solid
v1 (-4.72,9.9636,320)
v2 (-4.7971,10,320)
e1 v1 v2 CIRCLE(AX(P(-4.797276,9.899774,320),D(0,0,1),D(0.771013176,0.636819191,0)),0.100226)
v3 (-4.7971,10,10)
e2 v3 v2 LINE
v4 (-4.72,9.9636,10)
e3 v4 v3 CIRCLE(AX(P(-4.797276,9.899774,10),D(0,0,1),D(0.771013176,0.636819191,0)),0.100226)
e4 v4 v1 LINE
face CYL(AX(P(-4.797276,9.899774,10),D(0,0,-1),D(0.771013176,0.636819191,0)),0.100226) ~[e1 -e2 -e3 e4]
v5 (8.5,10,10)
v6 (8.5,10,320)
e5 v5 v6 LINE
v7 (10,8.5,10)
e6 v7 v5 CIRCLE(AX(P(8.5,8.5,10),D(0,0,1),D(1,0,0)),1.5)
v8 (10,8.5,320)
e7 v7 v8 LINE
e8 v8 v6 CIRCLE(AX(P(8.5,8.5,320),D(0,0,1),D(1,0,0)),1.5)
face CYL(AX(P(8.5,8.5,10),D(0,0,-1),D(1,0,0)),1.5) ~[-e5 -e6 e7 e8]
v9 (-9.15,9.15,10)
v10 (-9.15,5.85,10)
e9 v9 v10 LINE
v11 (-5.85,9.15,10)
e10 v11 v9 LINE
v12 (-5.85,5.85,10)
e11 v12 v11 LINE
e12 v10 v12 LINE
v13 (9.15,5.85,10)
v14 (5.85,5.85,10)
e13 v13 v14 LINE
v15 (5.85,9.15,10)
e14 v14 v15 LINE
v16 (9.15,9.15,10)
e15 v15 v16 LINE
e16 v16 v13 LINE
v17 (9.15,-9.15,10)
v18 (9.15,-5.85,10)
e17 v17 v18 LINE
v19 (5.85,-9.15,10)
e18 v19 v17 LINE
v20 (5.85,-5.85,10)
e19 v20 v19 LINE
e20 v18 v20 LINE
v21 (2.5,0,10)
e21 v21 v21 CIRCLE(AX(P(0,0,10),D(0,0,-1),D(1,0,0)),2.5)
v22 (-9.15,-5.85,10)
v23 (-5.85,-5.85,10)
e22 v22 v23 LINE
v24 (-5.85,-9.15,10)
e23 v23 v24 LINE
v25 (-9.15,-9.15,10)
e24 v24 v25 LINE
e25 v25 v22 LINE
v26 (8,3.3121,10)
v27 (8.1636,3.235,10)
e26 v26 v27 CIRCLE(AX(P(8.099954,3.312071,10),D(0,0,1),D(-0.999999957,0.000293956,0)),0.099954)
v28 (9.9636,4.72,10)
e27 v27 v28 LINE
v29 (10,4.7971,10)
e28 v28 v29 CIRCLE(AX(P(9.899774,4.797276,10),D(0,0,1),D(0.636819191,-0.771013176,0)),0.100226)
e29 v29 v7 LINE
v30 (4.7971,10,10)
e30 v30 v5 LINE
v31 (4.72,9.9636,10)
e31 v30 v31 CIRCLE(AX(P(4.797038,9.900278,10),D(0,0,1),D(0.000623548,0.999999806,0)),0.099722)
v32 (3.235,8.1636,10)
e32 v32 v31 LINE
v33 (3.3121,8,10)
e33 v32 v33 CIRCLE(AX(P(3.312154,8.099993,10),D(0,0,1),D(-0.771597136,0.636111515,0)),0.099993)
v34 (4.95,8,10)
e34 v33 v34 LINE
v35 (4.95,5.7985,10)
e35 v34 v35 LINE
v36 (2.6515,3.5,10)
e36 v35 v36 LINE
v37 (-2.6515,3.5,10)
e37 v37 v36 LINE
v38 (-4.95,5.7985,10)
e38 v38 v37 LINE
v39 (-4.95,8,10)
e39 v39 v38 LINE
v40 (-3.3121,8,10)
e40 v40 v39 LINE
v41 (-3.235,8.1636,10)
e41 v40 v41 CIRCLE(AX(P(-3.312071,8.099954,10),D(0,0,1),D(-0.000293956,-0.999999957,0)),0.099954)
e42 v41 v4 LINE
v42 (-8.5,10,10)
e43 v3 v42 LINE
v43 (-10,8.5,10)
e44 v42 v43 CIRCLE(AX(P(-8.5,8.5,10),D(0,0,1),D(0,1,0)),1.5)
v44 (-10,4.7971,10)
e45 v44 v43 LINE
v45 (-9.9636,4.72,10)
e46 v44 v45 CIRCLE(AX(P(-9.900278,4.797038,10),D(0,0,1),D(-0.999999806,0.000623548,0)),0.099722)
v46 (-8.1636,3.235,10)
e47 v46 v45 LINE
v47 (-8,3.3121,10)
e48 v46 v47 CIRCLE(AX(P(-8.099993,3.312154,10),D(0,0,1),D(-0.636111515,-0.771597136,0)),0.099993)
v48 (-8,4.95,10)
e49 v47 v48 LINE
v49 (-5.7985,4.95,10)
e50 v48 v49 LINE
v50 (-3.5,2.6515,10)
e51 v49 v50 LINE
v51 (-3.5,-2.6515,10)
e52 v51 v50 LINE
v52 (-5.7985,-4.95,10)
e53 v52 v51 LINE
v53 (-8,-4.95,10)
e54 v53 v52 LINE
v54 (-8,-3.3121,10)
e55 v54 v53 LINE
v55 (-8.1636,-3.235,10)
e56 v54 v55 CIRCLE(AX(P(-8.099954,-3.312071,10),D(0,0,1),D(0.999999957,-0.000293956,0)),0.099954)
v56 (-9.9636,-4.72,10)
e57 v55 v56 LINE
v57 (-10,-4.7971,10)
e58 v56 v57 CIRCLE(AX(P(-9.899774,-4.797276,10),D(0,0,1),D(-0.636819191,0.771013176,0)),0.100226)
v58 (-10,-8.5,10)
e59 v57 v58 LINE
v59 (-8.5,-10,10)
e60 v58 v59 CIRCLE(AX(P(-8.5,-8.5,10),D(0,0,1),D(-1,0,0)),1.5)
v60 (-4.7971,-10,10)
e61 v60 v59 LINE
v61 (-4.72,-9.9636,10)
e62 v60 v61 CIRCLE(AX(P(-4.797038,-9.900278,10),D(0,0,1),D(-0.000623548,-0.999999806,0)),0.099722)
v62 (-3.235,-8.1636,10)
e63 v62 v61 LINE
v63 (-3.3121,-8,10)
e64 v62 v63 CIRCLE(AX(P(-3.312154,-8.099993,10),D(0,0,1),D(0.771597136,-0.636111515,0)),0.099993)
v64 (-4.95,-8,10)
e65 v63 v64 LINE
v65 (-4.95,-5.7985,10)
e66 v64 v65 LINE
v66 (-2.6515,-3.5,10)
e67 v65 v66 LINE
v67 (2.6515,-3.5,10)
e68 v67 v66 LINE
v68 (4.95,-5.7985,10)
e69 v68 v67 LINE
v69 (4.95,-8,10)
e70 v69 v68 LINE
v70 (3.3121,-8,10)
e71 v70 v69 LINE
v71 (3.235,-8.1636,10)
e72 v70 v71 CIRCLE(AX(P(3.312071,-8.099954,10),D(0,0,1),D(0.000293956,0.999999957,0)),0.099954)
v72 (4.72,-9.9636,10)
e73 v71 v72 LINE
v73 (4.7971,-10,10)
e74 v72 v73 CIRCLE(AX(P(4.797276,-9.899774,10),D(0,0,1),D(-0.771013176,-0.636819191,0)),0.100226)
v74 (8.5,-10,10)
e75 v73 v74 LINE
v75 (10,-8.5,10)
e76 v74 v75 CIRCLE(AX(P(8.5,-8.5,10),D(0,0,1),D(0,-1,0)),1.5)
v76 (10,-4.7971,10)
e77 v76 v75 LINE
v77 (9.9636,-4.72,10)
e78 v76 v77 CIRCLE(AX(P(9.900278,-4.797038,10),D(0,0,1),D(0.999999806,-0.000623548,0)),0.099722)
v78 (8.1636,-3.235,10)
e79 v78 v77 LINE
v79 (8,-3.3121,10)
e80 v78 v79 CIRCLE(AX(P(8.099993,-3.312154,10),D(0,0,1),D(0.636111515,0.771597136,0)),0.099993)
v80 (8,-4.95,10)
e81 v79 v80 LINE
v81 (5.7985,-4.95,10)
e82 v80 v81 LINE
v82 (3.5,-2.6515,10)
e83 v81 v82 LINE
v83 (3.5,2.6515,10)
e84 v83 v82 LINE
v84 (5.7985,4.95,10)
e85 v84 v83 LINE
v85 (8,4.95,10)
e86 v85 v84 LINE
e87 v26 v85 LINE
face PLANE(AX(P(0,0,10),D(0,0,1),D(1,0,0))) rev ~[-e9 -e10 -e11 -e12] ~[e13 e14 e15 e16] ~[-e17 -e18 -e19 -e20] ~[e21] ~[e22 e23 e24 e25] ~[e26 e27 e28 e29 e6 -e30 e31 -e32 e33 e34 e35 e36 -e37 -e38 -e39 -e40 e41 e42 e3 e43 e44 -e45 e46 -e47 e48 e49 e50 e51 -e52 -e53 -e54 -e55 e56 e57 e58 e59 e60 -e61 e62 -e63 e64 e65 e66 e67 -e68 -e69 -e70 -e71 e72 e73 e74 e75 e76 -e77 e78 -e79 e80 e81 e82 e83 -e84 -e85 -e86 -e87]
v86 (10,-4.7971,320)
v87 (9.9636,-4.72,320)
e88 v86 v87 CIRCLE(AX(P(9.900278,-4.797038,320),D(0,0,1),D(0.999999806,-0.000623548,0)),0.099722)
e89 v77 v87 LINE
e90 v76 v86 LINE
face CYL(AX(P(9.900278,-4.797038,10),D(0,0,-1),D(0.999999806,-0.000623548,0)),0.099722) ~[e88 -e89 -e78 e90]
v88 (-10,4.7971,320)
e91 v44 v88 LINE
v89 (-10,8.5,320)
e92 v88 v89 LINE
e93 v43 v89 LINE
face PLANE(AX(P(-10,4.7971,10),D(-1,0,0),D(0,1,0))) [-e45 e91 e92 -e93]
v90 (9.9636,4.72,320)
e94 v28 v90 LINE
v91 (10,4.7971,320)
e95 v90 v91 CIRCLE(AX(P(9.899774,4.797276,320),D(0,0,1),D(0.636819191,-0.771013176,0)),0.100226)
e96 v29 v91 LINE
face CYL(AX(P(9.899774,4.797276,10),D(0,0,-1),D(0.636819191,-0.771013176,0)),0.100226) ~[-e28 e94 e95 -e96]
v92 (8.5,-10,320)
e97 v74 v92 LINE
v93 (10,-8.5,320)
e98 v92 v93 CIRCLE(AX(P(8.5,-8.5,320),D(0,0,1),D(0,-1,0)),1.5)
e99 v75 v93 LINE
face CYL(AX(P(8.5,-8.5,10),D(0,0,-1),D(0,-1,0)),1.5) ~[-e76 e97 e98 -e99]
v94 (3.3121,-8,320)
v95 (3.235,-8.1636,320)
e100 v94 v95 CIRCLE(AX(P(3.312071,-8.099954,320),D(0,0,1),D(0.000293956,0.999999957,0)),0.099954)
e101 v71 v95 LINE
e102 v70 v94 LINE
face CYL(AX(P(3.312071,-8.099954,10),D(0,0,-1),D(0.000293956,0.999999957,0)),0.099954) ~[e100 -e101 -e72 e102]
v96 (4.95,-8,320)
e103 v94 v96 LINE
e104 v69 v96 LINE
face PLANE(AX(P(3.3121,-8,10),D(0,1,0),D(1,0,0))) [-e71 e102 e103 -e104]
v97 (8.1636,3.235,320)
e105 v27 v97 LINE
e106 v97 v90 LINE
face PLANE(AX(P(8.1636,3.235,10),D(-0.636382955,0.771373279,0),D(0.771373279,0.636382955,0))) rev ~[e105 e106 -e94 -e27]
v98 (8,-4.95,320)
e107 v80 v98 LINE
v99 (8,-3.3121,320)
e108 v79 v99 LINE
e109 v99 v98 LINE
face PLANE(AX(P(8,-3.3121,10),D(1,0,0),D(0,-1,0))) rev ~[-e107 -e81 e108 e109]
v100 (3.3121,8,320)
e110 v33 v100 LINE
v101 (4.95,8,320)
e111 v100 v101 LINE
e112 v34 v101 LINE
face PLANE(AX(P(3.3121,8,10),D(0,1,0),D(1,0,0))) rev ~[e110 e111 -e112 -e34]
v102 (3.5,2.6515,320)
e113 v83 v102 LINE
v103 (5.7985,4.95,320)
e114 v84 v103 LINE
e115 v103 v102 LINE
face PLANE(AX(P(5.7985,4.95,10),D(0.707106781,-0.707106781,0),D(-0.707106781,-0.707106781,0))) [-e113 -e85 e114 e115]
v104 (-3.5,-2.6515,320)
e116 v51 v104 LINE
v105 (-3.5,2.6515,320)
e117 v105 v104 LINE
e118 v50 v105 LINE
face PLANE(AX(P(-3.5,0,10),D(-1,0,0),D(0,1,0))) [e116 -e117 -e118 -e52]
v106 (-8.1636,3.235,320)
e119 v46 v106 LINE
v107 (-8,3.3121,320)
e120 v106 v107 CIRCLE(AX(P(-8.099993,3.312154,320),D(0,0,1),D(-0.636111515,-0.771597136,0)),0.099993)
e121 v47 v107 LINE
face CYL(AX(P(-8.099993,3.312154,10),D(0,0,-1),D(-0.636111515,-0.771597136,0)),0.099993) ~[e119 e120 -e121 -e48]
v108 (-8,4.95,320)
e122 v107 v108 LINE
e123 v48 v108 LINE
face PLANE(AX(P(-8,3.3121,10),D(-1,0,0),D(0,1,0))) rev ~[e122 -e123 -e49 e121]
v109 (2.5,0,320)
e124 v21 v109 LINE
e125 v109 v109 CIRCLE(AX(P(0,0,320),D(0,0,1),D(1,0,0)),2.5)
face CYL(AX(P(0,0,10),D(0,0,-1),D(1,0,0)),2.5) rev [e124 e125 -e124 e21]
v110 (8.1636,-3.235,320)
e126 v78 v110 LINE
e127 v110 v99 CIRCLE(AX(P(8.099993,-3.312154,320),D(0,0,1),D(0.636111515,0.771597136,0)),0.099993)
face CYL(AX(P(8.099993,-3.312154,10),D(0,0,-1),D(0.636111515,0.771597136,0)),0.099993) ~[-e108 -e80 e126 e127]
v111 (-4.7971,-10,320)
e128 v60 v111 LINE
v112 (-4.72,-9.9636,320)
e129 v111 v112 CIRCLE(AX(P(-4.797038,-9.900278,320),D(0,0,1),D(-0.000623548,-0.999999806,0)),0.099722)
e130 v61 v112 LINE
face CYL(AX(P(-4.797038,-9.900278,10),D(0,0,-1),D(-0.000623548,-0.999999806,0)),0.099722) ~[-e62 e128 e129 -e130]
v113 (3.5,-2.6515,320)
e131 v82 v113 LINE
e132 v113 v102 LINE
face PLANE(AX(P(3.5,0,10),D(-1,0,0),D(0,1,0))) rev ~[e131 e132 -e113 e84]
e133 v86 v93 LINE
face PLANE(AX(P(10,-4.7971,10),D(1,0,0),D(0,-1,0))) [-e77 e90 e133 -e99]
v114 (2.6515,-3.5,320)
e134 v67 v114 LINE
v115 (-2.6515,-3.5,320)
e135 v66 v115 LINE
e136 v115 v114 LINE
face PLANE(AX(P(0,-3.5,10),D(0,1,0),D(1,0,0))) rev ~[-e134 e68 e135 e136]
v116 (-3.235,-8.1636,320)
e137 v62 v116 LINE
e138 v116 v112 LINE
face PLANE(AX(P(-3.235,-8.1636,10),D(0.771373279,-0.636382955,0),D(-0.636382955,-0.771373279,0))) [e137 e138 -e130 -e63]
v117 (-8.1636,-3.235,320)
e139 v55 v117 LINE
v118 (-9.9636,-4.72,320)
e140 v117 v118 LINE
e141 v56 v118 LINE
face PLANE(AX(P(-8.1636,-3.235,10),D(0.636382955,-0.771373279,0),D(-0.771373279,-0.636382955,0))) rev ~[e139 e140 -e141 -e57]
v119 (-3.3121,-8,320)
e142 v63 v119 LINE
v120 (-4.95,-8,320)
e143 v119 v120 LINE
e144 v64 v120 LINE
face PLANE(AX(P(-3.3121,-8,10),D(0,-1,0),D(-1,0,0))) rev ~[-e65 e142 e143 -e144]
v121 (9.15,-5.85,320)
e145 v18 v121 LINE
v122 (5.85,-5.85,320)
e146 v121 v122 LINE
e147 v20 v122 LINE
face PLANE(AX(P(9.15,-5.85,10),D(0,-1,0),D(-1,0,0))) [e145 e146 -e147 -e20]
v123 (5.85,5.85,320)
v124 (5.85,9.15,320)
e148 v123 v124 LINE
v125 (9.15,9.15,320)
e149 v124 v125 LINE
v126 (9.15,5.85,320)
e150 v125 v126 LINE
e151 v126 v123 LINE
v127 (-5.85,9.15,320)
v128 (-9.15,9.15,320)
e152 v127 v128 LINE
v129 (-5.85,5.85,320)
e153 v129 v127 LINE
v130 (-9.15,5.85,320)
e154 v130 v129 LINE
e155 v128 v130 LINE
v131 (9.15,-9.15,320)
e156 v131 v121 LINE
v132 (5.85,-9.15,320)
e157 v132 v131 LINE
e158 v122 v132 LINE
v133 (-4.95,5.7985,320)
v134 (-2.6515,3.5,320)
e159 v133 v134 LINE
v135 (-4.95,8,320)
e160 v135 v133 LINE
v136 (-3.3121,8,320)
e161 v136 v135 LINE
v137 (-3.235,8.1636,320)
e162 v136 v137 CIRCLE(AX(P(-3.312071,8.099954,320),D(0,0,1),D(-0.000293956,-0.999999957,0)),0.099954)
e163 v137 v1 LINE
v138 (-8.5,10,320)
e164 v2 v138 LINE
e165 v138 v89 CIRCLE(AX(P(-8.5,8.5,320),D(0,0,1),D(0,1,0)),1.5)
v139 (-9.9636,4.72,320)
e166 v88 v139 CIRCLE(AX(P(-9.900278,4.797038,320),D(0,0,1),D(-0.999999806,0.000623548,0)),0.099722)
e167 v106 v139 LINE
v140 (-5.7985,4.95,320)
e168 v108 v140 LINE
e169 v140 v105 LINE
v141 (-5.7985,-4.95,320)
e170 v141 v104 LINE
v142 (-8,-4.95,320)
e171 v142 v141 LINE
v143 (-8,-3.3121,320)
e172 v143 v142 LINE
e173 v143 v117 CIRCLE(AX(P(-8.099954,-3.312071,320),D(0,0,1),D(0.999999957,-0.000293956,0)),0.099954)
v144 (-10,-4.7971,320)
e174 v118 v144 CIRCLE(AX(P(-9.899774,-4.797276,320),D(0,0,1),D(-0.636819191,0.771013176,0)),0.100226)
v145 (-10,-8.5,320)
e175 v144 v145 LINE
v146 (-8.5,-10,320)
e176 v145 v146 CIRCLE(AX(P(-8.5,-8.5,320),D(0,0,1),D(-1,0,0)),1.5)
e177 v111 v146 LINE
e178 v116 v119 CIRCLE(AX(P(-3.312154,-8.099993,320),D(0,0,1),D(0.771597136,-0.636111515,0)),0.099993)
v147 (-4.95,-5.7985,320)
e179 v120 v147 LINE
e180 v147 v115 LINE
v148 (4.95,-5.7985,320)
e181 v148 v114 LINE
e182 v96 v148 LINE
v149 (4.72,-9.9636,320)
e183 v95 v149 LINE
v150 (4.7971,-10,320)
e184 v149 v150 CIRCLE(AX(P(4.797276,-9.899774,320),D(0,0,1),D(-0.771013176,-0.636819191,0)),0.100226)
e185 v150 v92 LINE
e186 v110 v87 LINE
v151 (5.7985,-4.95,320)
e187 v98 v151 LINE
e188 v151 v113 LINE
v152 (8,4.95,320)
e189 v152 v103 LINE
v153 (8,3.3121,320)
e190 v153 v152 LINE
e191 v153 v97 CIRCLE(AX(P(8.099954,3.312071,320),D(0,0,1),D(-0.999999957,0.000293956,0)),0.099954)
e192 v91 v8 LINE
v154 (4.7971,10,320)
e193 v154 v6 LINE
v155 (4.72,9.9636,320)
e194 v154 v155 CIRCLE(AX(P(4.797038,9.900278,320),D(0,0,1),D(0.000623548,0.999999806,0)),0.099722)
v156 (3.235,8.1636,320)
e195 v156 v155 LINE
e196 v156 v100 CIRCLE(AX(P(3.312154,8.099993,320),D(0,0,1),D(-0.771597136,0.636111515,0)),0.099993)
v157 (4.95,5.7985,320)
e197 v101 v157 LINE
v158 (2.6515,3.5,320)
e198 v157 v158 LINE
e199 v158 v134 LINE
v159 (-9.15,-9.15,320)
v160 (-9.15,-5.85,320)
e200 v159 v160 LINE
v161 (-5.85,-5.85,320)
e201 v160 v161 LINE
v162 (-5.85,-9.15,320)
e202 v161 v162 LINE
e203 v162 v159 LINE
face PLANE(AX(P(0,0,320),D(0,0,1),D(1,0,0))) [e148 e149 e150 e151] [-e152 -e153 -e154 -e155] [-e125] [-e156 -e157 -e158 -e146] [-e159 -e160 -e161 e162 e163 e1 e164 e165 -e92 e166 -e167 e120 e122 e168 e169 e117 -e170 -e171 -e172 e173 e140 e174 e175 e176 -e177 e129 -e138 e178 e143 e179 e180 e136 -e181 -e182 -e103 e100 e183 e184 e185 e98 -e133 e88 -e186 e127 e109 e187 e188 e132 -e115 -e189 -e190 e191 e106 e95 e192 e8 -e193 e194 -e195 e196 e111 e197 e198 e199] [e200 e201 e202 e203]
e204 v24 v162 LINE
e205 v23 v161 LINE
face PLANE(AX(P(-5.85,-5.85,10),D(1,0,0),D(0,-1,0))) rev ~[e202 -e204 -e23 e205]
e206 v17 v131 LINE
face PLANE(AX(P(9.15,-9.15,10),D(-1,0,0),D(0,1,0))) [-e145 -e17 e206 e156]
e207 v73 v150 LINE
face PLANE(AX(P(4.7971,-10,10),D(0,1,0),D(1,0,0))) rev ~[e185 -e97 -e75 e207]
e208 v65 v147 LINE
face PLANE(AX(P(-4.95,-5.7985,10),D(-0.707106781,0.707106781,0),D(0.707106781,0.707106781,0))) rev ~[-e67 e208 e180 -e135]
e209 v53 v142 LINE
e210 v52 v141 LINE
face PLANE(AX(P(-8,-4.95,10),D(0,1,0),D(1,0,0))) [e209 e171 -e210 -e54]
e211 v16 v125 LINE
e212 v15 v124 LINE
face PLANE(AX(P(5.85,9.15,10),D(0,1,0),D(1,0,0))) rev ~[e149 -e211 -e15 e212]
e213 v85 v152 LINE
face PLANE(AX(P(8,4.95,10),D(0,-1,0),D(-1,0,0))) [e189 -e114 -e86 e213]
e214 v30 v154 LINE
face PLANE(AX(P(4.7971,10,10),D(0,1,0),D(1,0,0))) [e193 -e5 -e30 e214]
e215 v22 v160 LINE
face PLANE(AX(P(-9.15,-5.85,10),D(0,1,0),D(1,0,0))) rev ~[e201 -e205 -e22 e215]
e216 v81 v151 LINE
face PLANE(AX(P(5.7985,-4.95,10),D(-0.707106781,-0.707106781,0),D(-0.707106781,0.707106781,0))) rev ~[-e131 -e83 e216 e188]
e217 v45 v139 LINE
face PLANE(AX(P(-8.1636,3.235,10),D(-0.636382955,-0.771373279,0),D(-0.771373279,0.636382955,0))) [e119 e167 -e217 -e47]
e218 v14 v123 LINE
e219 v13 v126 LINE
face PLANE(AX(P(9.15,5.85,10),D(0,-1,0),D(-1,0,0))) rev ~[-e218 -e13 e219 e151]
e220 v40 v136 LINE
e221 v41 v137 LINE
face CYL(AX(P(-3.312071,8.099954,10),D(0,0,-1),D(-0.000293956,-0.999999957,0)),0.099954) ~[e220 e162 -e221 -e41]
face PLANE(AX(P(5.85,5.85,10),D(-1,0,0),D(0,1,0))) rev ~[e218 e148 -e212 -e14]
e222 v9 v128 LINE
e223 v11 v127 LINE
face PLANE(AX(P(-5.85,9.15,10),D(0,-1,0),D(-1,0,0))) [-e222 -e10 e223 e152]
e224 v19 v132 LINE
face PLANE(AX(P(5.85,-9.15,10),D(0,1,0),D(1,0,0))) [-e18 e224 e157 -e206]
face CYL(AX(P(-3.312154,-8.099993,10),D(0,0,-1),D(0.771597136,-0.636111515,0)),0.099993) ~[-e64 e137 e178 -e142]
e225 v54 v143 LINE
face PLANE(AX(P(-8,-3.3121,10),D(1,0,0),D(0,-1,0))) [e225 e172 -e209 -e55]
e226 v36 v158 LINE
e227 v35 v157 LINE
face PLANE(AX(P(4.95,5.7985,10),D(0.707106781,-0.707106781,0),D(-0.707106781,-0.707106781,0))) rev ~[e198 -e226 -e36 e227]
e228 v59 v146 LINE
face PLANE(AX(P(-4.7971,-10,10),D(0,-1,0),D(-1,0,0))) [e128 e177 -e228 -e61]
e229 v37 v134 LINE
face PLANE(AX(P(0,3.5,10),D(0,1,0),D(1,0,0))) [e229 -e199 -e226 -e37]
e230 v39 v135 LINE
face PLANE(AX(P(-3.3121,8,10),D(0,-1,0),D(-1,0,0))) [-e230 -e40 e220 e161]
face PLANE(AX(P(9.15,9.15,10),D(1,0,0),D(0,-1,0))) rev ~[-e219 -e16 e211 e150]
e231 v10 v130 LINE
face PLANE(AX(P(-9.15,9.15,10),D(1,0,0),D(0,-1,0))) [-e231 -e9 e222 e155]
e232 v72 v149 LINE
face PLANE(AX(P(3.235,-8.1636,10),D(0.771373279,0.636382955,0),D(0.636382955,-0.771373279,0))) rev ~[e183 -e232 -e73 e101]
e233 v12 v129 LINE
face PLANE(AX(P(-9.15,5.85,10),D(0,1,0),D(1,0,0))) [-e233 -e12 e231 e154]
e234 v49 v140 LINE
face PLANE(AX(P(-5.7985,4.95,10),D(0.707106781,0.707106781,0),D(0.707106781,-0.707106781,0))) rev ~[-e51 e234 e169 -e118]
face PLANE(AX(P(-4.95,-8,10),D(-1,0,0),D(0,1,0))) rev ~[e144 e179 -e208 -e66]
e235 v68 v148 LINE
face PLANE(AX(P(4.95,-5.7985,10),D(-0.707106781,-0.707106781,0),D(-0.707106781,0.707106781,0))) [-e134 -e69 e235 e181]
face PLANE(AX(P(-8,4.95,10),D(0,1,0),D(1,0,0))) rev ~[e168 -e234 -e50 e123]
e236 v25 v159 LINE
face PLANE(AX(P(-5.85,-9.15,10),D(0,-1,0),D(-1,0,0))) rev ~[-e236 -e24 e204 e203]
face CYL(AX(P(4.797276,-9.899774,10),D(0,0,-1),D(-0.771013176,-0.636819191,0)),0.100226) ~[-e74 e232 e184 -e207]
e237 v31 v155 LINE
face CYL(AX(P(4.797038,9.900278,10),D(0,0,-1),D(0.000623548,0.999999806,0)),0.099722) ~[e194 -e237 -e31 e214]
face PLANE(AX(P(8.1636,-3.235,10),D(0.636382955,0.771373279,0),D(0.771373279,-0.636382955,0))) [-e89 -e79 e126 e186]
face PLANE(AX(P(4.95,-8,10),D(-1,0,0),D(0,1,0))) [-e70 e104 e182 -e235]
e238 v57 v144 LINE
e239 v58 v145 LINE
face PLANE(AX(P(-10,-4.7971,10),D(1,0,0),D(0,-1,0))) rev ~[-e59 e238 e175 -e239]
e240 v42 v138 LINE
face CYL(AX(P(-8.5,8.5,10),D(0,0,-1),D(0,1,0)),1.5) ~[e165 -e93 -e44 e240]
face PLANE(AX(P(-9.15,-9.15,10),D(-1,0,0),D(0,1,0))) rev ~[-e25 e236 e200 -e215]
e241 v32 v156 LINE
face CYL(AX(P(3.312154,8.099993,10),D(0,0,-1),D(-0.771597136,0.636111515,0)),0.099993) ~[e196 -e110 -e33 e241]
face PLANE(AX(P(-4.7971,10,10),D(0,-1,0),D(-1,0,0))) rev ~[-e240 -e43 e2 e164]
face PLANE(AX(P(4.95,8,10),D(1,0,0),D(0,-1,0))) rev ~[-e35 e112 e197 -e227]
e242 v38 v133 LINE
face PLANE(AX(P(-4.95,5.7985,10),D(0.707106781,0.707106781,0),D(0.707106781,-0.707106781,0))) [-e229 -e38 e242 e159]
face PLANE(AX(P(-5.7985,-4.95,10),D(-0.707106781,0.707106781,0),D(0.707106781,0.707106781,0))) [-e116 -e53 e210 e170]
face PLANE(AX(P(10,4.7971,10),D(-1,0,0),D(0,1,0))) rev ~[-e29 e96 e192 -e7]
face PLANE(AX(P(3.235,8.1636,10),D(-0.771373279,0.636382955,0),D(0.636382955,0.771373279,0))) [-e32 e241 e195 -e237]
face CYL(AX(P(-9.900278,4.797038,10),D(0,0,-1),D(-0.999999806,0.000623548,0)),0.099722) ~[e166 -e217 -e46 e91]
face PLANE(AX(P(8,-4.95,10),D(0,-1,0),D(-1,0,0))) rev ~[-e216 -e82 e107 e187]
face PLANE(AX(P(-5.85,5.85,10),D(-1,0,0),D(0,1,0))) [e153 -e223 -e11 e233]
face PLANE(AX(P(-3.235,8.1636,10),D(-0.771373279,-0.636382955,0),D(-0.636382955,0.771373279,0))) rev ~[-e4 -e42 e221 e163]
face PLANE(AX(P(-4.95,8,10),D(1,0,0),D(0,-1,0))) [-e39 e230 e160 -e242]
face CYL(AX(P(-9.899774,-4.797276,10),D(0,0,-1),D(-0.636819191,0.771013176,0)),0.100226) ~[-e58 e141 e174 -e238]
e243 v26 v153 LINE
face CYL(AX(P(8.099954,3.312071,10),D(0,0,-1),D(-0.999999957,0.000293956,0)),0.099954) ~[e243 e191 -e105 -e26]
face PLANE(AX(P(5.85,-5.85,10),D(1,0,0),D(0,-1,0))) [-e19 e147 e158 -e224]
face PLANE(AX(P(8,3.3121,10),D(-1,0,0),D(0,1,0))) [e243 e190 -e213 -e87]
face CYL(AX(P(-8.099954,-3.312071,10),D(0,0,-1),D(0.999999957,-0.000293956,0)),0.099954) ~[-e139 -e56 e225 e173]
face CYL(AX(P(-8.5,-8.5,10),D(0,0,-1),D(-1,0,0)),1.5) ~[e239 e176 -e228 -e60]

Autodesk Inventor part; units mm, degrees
ref_plane "Начальная плоскость" through (0, 0, 10) normal (0, 0, 1) x (1, 0, 0)
ref_plane "Конечная плоскость" through (0, 0, 320) normal (0, 0, 1) x (1, 0, 0)
sketch "Эскиз" plane through (0, 0, 0) normal (0, 0, 1) x (1, 0, 0)
  line L0 (-14.4349, 0) -> (14.4349, 0) projected
  line L1 (0, -14) -> (0, 14) projected
  line L2 (0, 0) -> (7.5, 7.5) construction
  circle A0 centre (7.5, 7.5) radius 1.65 construction
  line L3 (5.85, 9.15) -> (9.15, 9.15)
  line L4 (9.15, 9.15) -> (9.15, 5.85)
  line L5 (9.15, 5.85) -> (5.85, 5.85)
  line L6 (5.85, 5.85) -> (5.85, 9.15)
  line L7 (3.235, 8.1636) -> (4.72, 9.9636)
  line L8 (4.7971, 10) -> (8.5, 10)
  line L9 (3.3121, 8) -> (4.95, 8)
  line L10 (4.95, 8) -> (4.95, 5.7985)
  line L11 (4.95, 5.7985) -> (2.6515, 3.5)
  line L12 (0, 3.5) -> (2.6515, 3.5)
  circle A1 centre (0, 0) radius 2.5
  line L13 (8.1636, 3.235) -> (9.9636, 4.72)
  line L14 (10, 4.7971) -> (10, 8.5)
  line L15 (8, 3.3121) -> (8, 4.95)
  line L16 (8, 4.95) -> (5.7985, 4.95)
  line L17 (5.7985, 4.95) -> (3.5, 2.6515)
  line L18 (3.5, 0) -> (3.5, 2.6515)
  arc A2 (10, 8.5) -> (8.5, 10) centre (8.5, 8.5) ccw
  line L19 (0, 0) -> (-7.5, 7.5) construction
  circle A3 centre (-7.5, 7.5) radius 1.65 construction
  line L20 (-5.85, 9.15) -> (-9.15, 9.15)
  line L21 (-9.15, 9.15) -> (-9.15, 5.85)
  line L22 (-9.15, 5.85) -> (-5.85, 5.85)
  line L23 (-5.85, 5.85) -> (-5.85, 9.15)
  line L24 (-3.235, 8.1636) -> (-4.72, 9.9636)
  line L25 (-4.7971, 10) -> (-8.5, 10)
  line L26 (-3.3121, 8) -> (-4.95, 8)
  line L27 (-4.95, 8) -> (-4.95, 5.7985)
  line L28 (-4.95, 5.7985) -> (-2.6515, 3.5)
  line L29 (0, 3.5) -> (-2.6515, 3.5)
  line L30 (-3.5, 0) -> (-3.5, 2.6515)
  line L31 (-5.7985, 4.95) -> (-3.5, 2.6515)
  line L32 (-8, 4.95) -> (-5.7985, 4.95)
  line L33 (-8, 3.3121) -> (-8, 4.95)
  line L34 (-8.1636, 3.235) -> (-9.9636, 4.72)
  line L35 (-10, 4.7971) -> (-10, 8.5)
  arc A4 (-8.5, 10) -> (-10, 8.5) centre (-8.5, 8.5) ccw
  line L36 (0, 14) -> (0, -14)
  line L37 (0, 0) -> (7.5, -7.5) construction
  circle A5 centre (7.5, -7.5) radius 1.65 construction
  line L38 (5.85, -9.15) -> (9.15, -9.15)
  line L39 (9.15, -9.15) -> (9.15, -5.85)
  line L40 (9.15, -5.85) -> (5.85, -5.85)
  line L41 (5.85, -5.85) -> (5.85, -9.15)
  line L42 (3.235, -8.1636) -> (4.72, -9.9636)
  line L43 (4.7971, -10) -> (8.5, -10)
  line L44 (3.3121, -8) -> (4.95, -8)
  line L45 (4.95, -8) -> (4.95, -5.7985)
  line L46 (4.95, -5.7985) -> (2.6515, -3.5)
  line L47 (0, -3.5) -> (2.6515, -3.5)
  line L48 (3.5, 0) -> (3.5, -2.6515)
  line L49 (5.7985, -4.95) -> (3.5, -2.6515)
  line L50 (8, -4.95) -> (5.7985, -4.95)
  line L51 (8, -3.3121) -> (8, -4.95)
  line L52 (8.1636, -3.235) -> (9.9636, -4.72)
  line L53 (10, -4.7971) -> (10, -8.5)
  arc A6 (8.5, -10) -> (10, -8.5) centre (8.5, -8.5) ccw
  line L54 (0, 0) -> (-7.5, -7.5) construction
  line L55 (-4.95, -8) -> (-4.95, -5.7985)
  line L56 (-3.3121, -8) -> (-4.95, -8)
  line L57 (-5.7985, -4.95) -> (-3.5, -2.6515)
  line L58 (-4.95, -5.7985) -> (-2.6515, -3.5)
  line L59 (-3.5, 0) -> (-3.5, -2.6515)
  line L60 (0, -3.5) -> (-2.6515, -3.5)
  circle A7 centre (-7.5, -7.5) radius 1.65 construction
  line L61 (-5.85, -5.85) -> (-5.85, -9.15)
  line L62 (-5.85, -9.15) -> (-9.15, -9.15)
  line L63 (-9.15, -9.15) -> (-9.15, -5.85)
  line L64 (-9.15, -5.85) -> (-5.85, -5.85)
  line L65 (-3.235, -8.1636) -> (-4.72, -9.9636)
  line L66 (-8, -4.95) -> (-5.7985, -4.95)
  line L67 (-8, -3.3121) -> (-8, -4.95)
  line L68 (-8.1636, -3.235) -> (-9.9636, -4.72)
  line L69 (-4.7971, -10) -> (-8.5, -10)
  line L70 (-10, -4.7971) -> (-10, -8.5)
  arc A8 (-10, -8.5) -> (-8.5, -10) centre (-8.5, -8.5) ccw
  arc A9 (3.235, 8.1636) -> (3.3121, 8) centre (3.3121, 8.1) ccw
  arc A10 (4.7971, 10) -> (4.72, 9.9636) centre (4.7971, 9.9) ccw
  arc A11 (8, 3.3121) -> (8.1636, 3.235) centre (8.1, 3.3121) ccw
  arc A12 (9.9636, 4.72) -> (10, 4.7971) centre (9.9, 4.7971) ccw
  arc A13 (-3.3121, 8) -> (-3.235, 8.1636) centre (-3.3121, 8.1) ccw
  arc A14 (-4.72, 9.9636) -> (-4.7971, 10) centre (-4.7971, 9.9) ccw
  arc A15 (-8.1636, 3.235) -> (-8, 3.3121) centre (-8.1, 3.3121) ccw
  arc A16 (-10, 4.7971) -> (-9.9636, 4.72) centre (-9.9, 4.7971) ccw
  arc A17 (-8, -3.3121) -> (-8.1636, -3.235) centre (-8.1, -3.3121) ccw
  arc A18 (-9.9636, -4.72) -> (-10, -4.7971) centre (-9.9, -4.7971) ccw
  arc A19 (-3.235, -8.1636) -> (-3.3121, -8) centre (-3.3121, -8.1) ccw
  arc A20 (-4.7971, -10) -> (-4.72, -9.9636) centre (-4.7971, -9.9) ccw
  arc A21 (4.72, -9.9636) -> (4.7971, -10) centre (4.7971, -9.9) ccw
  arc A22 (3.3121, -8) -> (3.235, -8.1636) centre (3.3121, -8.1) ccw
  arc A23 (8.1636, -3.235) -> (8, -3.3121) centre (8.1, -3.3121) ccw
  arc A24 (10, -4.7971) -> (9.9636, -4.72) centre (9.9, -4.7971) ccw
  point P0 (3.1, 8)
  point P1 (4.75, 10)
  point P2 (7.5, 9.15)
  point P3 (8, 3.1)
  point P4 (10, 4.75)
  point P5 (7.5, 5.85)
  point P6 (9.15, 7.5)
  point P7 (-3.1, 8)
  point P8 (-4.75, 10)
  point P9 (-7.5, 9.15)
  point P10 (-8, 3.1)
  point P11 (-10, 4.75)
  point P12 (-7.5, 5.85)
  point P13 (-9.15, 7.5)
  point P14 (3.1, -8)
  point P15 (4.75, -10)
  point P16 (7.5, -9.15)
  point P17 (8, -3.1)
  point P18 (10, -4.75)
  point P19 (7.5, -5.85)
  point P20 (9.15, -7.5)
  point P21 (-3.1, -8)
  point P22 (-7.5, -5.85)
  point P23 (-7.5, -9.15)
  point P24 (-9.15, -7.5)
  point P25 (-4.75, -10)
  point P26 (-8, -3.1)
  point P27 (-10, -4.75)
  dimension "d0" = 45
  dimension "d1" = 3.3
  dimension "d2" = 1.5
  dimension "d3" = 1.2
  dimension "d4" = 5
  dimension "d5" = 6.5
  dimension "d6" = 15
  dimension "d7" = 20
  dimension "d8" = 9.9
  dimension "d9" = 9.5
  dimension "d10" = 6.2
  dimension "d11" = 2
  dimension "d18" = 0.1
  dimension "d19" = 0.1
extrude "Тело" add sketch "Эскиз" along normal up to surface (310 mm away) from surface at 10 contours A1 L1 L12 L11 L10 L9 A9 L7 A10 L8 A2 L14 A12 L13 A11 L15 L16 L17 L18 L0 | L0 L48 L49 L50 L51 A23 L52 A24 L53 A6 L43 A21 L42 A22 L44 L45 L46 L47 L1 A1 | A1 L0 L30 L31 L32 L33 A15 L34 A16 L35 A4 L25 A14 L24 A13 L26 L27 L28 L29 L1 | L1 L60 L58 L55 L56 A19 L65 A20 L69 A8 L70 A18 L68 A17 L67 L66 L57 L59 L0 A1
sketch "Эскиз2" plane through (0, 0, 0) normal (0, 0, 1) x (1, 0, 0)
  line L0 (0, 0) -> (10, 0)
ref_plane "РабПлоскость3" through (0, 0, 0) normal (0, -1, 0) x (1, 0, 0)
sketch "Эскиз3" plane through (0, 0, 0) normal (0, -1, 0) x (1, 0, 0)
  line L0 (-2, 10) -> (12, 10)
  line L1 (-2, 320) -> (12, 320)
  dimension "d25" = 310
ref_plane "РабПлоскость4" through (-255, -8.5, 320) normal (0, 0, 1) x (1, 0, 0)
split "Разделение1" plane through (-255, -8.5, 320) removes the side toward (0, 0, 1)
ref_plane "РабПлоскость5" through (-300, 8.5, 10) normal (0, 0, -1) x (-1, 0, 0)
split "Разделение2" plane through (-300, 8.5, 10) removes the side toward (0, 0, -1)
properties part number "короткая палка" material "Алюминий 6061"
